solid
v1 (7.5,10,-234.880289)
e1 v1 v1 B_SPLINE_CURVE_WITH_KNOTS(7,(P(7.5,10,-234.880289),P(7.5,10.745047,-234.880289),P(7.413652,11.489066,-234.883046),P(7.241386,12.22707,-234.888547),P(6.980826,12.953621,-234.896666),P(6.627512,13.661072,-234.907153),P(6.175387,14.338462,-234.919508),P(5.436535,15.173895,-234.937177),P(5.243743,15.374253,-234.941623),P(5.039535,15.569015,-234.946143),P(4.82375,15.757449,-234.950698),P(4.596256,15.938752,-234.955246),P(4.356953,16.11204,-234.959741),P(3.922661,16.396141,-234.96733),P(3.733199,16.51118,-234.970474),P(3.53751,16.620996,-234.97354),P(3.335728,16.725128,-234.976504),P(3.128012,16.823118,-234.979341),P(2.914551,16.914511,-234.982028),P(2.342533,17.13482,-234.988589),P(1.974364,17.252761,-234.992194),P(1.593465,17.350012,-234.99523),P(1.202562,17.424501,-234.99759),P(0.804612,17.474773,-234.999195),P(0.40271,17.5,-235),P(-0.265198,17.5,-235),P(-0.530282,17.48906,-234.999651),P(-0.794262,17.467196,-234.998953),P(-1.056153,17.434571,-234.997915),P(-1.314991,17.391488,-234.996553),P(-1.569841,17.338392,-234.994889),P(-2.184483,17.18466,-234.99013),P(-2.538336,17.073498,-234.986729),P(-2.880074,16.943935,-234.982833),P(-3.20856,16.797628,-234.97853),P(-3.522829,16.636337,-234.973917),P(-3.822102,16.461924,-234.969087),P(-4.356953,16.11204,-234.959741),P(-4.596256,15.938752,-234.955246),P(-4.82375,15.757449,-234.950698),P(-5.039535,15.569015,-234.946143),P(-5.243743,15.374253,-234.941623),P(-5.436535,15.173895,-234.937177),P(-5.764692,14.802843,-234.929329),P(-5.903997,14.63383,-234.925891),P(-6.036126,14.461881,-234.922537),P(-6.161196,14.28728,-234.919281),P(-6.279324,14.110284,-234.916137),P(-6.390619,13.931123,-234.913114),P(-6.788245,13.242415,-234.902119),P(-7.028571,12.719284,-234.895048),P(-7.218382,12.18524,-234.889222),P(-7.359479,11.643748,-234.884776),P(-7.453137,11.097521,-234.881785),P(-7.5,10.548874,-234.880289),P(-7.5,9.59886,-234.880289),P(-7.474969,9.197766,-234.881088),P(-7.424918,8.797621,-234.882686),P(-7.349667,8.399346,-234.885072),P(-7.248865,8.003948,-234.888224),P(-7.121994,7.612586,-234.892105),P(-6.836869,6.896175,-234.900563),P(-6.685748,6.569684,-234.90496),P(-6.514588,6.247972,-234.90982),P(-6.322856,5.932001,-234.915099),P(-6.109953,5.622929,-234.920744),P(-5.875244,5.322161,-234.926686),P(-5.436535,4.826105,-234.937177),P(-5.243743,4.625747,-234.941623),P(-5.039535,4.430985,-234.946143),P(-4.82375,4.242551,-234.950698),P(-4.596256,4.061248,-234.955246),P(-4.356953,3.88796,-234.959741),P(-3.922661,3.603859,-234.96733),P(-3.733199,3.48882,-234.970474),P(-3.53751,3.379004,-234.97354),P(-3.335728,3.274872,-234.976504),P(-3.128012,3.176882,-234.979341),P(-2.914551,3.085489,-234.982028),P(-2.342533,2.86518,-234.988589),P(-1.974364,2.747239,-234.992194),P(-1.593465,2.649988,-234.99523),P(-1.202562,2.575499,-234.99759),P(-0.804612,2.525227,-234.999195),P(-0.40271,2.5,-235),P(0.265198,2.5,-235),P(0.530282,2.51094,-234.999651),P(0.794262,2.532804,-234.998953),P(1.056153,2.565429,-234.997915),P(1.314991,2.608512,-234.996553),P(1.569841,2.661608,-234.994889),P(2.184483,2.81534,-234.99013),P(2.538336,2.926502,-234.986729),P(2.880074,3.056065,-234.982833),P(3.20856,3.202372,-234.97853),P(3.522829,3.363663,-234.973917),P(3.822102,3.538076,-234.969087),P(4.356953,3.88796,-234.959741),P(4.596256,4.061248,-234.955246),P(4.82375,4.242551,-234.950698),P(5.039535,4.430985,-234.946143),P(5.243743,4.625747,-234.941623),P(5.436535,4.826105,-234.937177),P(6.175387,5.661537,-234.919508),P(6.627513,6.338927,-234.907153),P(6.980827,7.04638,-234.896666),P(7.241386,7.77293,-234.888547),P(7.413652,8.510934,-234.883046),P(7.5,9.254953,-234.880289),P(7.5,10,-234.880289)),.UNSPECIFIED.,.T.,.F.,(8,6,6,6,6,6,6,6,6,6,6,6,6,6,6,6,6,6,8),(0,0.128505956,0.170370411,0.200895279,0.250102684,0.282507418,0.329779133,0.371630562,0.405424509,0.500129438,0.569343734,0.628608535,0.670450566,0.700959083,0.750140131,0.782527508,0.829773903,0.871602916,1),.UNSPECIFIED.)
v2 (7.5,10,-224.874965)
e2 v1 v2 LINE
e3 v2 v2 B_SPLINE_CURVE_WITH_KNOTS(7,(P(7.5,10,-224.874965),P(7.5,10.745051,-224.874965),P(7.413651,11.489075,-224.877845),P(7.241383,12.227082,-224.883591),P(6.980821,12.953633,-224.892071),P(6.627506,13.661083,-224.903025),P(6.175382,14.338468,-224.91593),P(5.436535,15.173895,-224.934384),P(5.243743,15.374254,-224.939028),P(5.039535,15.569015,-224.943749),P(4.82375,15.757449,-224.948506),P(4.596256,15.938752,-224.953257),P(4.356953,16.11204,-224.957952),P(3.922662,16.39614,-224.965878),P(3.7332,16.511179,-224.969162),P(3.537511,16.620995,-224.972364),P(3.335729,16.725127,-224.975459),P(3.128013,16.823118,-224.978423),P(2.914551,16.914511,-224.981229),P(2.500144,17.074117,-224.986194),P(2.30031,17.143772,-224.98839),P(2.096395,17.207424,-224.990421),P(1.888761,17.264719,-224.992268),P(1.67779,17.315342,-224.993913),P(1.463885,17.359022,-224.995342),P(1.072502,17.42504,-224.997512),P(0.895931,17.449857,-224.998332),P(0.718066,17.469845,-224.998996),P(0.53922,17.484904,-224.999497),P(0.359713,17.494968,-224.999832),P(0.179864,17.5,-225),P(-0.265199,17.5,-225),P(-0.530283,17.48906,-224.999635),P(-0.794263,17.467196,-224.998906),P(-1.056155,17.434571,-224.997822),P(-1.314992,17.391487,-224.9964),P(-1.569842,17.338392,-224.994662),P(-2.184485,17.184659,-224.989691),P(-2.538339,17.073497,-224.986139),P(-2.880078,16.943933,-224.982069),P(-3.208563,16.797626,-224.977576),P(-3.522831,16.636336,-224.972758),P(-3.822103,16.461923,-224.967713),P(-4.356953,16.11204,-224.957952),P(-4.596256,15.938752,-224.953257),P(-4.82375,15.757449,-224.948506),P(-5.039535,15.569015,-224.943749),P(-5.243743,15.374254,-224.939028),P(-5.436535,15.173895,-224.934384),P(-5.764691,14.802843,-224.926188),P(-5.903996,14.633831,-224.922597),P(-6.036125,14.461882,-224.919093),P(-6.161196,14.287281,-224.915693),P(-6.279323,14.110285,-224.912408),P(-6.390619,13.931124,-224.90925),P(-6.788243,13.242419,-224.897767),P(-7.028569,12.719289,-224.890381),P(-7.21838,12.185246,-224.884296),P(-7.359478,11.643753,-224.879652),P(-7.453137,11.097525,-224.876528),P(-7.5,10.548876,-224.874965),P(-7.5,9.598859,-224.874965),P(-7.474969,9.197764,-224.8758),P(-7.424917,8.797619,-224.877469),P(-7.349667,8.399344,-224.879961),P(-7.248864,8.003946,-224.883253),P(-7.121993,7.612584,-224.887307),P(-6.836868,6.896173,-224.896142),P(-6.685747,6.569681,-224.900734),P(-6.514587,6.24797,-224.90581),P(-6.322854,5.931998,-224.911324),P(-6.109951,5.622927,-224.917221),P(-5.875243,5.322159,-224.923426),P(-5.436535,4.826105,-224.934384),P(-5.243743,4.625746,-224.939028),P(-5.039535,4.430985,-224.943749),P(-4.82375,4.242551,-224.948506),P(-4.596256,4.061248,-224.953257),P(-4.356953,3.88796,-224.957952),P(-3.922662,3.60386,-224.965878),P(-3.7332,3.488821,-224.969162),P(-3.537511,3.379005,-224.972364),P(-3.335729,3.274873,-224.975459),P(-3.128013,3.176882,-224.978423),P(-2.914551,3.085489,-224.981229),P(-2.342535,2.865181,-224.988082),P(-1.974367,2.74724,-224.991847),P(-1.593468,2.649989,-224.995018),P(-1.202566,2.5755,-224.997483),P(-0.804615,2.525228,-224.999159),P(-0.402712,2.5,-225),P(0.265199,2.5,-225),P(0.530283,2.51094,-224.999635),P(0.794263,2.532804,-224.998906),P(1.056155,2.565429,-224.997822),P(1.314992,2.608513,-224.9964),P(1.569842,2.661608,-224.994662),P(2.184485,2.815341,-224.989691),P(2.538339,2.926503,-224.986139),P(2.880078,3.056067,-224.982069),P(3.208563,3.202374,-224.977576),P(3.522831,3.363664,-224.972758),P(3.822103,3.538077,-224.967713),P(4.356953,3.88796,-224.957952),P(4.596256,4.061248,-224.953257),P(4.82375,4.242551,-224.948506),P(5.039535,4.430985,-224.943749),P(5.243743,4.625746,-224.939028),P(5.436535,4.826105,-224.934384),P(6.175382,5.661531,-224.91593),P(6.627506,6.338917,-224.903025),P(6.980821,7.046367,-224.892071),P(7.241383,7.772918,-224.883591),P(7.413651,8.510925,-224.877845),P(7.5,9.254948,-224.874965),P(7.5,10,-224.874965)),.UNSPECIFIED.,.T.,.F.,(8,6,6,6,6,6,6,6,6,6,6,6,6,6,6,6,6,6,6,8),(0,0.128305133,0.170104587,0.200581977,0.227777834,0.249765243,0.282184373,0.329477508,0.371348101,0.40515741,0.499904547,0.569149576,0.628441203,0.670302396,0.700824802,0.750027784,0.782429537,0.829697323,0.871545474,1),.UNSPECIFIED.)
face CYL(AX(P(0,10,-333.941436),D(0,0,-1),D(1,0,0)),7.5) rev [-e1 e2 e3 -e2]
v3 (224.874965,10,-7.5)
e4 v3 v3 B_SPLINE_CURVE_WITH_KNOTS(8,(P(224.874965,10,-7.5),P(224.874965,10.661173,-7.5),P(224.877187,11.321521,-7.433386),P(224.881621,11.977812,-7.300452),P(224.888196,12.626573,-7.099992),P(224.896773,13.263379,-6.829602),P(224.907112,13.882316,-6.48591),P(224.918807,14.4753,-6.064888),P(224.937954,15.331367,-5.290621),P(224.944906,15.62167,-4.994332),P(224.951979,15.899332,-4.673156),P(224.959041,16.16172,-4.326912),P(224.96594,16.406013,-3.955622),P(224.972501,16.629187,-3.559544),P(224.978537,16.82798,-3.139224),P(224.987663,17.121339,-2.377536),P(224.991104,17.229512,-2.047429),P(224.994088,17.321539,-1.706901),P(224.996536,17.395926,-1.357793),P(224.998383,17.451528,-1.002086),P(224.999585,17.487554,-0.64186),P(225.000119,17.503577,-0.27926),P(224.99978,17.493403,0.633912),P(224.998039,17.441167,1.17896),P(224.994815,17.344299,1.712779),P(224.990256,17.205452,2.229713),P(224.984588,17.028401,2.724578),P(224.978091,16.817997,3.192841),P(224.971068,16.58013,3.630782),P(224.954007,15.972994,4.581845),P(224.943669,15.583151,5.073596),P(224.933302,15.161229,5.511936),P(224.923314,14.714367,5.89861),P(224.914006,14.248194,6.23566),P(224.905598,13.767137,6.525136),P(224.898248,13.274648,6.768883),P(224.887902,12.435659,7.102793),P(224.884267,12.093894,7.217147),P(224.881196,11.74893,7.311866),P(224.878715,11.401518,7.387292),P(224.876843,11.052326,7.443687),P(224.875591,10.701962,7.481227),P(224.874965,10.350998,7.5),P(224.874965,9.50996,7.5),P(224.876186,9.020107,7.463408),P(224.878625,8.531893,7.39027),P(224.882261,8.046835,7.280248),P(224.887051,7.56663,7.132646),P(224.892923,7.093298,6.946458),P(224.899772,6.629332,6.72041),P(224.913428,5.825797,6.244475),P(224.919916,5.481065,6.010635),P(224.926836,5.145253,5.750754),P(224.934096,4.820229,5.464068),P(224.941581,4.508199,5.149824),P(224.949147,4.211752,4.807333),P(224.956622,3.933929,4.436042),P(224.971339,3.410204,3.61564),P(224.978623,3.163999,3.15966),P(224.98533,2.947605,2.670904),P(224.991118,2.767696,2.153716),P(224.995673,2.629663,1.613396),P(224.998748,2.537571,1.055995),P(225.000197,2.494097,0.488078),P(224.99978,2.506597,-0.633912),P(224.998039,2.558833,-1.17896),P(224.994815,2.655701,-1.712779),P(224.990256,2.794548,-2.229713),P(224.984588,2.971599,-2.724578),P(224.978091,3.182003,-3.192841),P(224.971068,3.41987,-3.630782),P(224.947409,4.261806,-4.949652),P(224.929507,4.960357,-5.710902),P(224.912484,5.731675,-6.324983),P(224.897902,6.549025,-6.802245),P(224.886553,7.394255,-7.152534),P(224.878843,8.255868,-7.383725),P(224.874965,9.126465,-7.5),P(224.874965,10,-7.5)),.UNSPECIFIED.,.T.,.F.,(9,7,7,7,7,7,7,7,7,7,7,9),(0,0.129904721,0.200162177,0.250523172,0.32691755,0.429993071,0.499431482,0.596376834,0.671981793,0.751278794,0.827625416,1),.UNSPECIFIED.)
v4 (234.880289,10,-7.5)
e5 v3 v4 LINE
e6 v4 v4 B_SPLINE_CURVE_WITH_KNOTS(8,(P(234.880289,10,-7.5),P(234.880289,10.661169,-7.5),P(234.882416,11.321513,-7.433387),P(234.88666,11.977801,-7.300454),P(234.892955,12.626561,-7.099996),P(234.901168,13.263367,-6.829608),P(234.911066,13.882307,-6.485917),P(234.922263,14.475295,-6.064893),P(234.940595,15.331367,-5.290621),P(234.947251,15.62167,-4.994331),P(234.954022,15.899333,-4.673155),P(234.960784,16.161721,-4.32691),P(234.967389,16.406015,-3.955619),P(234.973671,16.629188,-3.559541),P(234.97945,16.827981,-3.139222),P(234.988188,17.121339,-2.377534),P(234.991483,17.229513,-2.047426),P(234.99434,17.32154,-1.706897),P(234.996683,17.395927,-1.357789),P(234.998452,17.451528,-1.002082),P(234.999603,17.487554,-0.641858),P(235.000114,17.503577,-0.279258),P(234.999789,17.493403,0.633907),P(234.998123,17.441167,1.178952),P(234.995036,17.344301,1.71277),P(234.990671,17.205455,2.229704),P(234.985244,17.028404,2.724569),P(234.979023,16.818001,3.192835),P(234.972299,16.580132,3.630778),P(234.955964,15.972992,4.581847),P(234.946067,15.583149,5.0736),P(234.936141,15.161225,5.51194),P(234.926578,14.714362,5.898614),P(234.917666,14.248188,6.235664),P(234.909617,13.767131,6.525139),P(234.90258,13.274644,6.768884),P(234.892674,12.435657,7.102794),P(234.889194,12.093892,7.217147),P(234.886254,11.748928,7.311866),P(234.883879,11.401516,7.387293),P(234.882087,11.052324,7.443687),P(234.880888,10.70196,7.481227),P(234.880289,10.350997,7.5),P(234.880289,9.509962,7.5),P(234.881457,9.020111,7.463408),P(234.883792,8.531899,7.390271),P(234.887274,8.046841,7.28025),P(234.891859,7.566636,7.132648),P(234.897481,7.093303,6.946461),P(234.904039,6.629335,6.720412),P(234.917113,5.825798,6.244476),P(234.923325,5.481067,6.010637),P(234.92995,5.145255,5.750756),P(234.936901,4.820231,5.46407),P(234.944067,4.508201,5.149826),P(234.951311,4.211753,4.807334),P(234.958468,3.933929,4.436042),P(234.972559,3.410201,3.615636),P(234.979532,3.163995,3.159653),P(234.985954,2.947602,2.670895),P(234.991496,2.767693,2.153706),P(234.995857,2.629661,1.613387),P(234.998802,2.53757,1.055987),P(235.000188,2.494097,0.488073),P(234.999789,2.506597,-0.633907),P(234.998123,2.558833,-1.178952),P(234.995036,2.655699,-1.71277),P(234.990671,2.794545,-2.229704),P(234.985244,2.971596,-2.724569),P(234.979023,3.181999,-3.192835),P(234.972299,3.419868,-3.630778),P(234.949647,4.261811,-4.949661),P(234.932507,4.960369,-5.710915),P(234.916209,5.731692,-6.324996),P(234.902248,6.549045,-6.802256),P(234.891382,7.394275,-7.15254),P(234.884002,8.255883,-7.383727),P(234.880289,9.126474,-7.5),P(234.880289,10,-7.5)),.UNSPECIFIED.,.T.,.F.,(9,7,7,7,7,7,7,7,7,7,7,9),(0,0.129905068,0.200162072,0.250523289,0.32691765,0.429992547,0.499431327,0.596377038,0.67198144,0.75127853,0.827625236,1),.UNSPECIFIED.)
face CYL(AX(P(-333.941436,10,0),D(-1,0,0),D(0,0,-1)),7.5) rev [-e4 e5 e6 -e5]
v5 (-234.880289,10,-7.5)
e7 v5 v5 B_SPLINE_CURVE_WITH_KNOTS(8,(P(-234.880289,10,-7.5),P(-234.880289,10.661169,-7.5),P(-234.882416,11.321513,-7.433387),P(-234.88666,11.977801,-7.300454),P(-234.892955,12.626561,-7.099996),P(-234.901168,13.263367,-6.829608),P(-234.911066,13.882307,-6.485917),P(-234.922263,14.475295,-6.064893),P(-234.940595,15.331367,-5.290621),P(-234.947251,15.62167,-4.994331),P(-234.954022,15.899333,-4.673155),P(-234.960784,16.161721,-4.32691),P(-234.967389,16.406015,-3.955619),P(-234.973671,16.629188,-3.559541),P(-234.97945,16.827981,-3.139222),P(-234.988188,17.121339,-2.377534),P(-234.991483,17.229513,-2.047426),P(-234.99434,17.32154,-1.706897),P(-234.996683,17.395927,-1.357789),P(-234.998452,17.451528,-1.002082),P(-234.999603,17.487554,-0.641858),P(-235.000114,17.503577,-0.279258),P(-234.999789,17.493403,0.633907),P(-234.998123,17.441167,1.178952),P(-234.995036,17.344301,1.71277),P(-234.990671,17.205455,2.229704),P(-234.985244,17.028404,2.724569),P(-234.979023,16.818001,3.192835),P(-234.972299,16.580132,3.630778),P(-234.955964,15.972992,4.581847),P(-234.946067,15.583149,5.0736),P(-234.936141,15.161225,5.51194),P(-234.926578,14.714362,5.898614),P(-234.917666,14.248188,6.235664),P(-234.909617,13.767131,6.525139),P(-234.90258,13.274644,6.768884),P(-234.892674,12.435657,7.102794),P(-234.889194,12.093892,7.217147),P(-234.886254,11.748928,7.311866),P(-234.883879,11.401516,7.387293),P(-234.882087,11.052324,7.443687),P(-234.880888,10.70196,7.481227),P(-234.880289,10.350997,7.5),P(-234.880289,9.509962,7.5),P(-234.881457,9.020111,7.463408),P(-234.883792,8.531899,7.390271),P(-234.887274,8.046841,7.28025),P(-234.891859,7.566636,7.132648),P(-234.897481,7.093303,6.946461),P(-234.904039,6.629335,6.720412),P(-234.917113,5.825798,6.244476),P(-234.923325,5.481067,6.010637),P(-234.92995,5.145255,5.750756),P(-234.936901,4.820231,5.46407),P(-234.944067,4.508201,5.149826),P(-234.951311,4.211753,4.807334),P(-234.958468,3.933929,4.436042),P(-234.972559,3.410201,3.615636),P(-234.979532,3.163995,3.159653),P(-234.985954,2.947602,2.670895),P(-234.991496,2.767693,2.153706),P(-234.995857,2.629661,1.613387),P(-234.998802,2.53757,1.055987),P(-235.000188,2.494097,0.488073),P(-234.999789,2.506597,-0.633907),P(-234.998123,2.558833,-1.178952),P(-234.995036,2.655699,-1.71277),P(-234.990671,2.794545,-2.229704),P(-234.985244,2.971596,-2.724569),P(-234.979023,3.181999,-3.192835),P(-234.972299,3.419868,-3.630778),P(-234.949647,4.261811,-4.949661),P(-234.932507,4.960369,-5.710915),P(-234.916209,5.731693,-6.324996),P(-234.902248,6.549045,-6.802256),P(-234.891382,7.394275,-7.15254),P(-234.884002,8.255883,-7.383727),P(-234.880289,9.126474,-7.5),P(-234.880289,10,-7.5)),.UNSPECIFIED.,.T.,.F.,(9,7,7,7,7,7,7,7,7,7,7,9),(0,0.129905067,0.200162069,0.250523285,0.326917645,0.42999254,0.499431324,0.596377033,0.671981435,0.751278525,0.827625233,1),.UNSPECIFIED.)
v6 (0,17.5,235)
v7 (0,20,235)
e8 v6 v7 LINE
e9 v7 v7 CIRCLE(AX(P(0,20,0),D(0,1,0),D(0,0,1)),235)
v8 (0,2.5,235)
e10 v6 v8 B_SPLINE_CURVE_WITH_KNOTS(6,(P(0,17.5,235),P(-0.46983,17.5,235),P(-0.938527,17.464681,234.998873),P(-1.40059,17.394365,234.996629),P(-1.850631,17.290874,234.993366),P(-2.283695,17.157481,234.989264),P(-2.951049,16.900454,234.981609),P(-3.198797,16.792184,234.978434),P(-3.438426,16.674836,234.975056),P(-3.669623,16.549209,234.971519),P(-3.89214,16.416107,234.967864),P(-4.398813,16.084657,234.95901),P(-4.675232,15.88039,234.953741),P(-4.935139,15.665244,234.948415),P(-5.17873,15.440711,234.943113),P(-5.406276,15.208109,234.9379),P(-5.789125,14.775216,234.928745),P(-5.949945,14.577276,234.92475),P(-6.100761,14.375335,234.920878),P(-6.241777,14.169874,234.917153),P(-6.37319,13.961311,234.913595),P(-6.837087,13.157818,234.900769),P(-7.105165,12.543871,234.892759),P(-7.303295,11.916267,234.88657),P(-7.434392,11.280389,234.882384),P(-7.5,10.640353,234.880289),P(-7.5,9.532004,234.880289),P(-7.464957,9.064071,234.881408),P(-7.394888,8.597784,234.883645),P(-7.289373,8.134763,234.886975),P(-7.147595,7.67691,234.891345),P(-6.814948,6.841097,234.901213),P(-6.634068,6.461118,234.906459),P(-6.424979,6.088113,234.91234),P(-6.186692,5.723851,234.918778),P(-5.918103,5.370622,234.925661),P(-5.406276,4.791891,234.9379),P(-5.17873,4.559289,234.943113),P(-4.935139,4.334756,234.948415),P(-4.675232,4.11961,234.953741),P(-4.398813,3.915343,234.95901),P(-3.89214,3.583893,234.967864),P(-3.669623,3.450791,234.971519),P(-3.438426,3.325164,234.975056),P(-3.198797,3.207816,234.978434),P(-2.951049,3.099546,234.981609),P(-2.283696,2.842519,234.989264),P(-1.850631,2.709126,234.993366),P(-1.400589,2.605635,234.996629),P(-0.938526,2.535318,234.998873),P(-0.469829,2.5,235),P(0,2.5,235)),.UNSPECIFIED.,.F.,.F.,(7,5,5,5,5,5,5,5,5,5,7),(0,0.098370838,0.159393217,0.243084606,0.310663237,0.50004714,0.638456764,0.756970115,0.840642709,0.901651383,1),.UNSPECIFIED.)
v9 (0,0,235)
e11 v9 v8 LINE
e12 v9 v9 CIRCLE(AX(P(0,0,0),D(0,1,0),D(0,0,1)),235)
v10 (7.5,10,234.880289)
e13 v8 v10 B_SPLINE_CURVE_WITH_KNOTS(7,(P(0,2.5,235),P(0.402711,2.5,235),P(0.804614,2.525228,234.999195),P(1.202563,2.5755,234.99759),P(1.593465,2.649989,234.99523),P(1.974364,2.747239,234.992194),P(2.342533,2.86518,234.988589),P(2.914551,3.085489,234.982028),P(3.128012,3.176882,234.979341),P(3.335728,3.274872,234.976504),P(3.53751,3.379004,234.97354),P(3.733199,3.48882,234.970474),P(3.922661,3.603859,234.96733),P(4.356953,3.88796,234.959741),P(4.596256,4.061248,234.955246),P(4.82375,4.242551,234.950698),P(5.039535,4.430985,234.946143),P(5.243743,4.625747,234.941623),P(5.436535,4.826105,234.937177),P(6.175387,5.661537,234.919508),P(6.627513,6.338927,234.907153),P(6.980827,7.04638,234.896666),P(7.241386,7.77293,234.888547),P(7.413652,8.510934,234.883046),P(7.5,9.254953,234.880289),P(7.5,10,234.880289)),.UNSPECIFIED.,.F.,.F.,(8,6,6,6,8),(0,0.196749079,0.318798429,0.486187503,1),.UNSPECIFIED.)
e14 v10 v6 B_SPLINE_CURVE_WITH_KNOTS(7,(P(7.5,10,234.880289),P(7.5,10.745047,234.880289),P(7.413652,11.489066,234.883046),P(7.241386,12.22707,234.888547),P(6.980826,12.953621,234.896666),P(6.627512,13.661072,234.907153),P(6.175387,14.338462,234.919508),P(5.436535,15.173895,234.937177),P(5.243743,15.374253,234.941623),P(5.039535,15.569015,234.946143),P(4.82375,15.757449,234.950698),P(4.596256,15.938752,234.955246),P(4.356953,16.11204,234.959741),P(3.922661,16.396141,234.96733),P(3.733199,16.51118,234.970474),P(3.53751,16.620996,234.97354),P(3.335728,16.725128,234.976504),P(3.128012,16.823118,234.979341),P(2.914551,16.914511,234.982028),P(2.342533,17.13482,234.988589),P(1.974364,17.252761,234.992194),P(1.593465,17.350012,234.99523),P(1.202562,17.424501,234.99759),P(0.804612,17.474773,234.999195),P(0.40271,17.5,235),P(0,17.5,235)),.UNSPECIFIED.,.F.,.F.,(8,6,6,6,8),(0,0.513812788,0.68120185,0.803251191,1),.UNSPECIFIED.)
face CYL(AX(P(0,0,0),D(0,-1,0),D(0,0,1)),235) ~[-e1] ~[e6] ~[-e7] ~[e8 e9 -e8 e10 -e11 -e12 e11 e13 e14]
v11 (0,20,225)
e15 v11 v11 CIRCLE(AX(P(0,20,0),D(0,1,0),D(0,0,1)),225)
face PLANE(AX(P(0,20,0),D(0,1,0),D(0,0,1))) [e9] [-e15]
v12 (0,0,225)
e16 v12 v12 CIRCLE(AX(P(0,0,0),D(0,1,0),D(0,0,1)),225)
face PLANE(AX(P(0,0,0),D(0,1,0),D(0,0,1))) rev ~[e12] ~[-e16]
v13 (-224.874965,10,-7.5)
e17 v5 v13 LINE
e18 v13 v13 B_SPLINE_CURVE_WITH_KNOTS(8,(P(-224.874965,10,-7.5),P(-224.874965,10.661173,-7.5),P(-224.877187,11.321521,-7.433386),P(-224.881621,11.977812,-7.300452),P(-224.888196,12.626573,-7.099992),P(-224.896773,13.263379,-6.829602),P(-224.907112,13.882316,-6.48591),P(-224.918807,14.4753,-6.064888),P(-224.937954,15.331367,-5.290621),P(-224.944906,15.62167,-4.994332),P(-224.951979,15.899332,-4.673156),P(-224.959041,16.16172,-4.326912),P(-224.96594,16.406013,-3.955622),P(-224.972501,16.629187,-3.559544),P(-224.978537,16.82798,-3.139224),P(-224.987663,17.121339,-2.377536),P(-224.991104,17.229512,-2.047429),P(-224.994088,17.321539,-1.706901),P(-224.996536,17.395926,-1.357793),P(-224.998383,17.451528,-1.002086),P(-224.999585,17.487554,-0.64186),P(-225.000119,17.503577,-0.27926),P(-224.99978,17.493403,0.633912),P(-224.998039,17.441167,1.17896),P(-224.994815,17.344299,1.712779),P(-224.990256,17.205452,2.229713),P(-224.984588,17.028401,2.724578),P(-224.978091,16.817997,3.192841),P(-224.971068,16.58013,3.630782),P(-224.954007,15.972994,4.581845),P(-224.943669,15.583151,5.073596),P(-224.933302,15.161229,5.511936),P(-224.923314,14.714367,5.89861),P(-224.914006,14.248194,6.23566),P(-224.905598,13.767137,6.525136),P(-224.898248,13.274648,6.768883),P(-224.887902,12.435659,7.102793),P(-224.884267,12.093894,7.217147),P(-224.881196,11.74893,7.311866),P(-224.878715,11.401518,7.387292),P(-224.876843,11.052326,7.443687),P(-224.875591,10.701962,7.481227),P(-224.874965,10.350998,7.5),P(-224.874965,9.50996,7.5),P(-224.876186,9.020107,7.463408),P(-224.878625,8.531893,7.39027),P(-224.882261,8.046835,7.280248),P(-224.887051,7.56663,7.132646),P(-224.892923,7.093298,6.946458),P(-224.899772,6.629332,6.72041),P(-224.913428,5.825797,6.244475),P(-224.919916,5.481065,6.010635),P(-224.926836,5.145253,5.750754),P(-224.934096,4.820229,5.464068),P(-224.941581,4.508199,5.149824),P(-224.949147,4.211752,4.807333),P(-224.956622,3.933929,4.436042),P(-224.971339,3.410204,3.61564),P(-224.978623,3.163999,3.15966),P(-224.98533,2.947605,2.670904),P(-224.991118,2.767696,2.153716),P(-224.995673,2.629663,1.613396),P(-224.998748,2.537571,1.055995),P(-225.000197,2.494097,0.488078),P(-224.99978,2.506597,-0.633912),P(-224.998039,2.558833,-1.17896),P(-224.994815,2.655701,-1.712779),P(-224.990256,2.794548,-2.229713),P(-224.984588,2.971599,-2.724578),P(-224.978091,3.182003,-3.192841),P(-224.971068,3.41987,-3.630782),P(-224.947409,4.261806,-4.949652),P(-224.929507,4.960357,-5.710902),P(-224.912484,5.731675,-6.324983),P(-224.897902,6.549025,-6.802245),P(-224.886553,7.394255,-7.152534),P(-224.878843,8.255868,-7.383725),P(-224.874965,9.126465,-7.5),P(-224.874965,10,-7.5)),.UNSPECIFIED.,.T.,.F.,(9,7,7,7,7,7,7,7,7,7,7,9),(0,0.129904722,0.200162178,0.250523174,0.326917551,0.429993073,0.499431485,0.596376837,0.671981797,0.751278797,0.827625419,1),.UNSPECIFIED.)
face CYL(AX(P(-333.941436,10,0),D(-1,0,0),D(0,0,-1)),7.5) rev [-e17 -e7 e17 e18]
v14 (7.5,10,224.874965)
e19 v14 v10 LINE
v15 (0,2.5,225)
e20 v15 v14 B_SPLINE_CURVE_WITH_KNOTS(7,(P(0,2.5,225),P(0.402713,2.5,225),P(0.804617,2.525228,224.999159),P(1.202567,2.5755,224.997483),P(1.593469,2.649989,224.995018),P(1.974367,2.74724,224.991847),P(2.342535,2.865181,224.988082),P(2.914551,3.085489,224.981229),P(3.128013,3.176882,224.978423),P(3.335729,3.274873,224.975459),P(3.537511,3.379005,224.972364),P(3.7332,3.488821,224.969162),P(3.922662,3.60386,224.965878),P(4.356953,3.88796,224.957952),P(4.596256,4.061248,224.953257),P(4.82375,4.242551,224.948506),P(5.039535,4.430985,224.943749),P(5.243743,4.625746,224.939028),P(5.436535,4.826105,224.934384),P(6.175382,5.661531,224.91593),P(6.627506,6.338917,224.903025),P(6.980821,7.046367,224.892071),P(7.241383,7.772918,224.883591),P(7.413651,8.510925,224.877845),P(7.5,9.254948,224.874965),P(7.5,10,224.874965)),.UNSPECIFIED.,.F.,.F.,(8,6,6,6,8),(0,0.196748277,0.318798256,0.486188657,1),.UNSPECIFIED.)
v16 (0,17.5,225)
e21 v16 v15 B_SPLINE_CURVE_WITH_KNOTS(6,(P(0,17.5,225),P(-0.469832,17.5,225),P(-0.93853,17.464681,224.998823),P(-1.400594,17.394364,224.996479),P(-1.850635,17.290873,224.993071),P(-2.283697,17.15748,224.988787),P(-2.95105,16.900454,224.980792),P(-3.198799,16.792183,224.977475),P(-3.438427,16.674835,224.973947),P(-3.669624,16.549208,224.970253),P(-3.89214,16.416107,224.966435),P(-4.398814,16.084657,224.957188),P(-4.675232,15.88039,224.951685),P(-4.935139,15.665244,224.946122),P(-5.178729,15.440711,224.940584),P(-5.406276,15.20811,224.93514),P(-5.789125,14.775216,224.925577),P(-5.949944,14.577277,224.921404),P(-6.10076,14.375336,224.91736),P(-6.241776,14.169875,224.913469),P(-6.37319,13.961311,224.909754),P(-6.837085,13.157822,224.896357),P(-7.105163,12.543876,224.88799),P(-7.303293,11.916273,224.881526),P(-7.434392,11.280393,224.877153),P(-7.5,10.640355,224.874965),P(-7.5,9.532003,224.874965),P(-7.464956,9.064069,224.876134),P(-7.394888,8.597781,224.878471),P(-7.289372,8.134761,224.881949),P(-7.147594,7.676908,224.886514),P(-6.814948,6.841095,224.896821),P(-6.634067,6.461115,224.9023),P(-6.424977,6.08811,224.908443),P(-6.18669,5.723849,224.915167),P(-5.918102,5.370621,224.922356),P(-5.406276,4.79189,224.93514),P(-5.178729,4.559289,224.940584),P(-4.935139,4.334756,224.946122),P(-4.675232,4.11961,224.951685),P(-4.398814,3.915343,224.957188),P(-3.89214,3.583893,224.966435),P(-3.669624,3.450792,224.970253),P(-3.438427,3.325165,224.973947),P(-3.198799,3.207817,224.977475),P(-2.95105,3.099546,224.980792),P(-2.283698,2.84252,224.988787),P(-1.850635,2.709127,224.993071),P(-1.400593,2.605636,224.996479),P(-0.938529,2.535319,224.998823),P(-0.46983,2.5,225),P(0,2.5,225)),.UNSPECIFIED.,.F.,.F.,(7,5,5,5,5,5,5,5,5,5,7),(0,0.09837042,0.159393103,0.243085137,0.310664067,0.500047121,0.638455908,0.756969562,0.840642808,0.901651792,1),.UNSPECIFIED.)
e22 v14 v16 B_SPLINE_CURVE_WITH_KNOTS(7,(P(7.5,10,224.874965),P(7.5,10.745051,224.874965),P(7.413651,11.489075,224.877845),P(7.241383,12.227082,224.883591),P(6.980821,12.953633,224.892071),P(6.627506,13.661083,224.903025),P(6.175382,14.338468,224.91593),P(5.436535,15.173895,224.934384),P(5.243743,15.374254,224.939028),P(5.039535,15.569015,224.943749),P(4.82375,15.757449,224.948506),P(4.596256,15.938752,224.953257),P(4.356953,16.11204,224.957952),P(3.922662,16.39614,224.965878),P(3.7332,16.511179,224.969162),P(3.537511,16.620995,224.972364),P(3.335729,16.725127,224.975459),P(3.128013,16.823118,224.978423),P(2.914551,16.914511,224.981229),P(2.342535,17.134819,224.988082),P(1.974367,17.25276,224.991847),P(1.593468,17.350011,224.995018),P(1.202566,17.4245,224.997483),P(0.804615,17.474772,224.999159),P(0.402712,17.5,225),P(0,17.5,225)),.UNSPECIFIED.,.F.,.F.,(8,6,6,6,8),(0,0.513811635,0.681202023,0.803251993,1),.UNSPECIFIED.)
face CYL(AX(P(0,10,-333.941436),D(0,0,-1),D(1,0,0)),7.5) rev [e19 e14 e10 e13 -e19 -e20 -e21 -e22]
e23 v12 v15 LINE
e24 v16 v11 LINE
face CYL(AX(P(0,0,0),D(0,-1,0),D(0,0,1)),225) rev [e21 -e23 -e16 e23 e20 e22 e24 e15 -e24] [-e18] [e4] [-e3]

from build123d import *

# Parameters (mm, degrees)
SKETCH1_R               = 235
SKETCH1_R_2             = 225
BOSS_EXTRUDE1_DEPTH     = 20
CUT_EXTRUDE1_DEPTH      = 333.941436292
CUT_EXTRUDE1_DEPTH_BACK = 333.941436292
SKETCH2_R               = 7.5
CUT_EXTRUDE2_DEPTH      = 333.941436439
CUT_EXTRUDE2_DEPTH_BACK = 333.941436439
SKETCH3_R               = 7.5


with BuildPart() as part:
    # Sketch1 → Boss-Extrude1 (new body)
    with BuildSketch(Plane(origin=(0, 0, 0), x_dir=(1, 0, 0), z_dir=(0, 1, 0))):
        with Locations(Location((0, 0, 0), (0, 0, 270))):
            Circle(SKETCH1_R)
        with Locations(Location((0, 0, 0), (0, 0, 270))):
            Circle(SKETCH1_R_2, mode=Mode.SUBTRACT)
    extrude(amount=BOSS_EXTRUDE1_DEPTH)

    # Sketch2 → Cut-Extrude1 (cut, two sides: drawn at the far end of the back side and taken through both)
    with BuildSketch(Plane.XY.offset(-CUT_EXTRUDE1_DEPTH_BACK)):
        with Locations((0, 10)):
            Circle(SKETCH2_R)
    extrude(amount=CUT_EXTRUDE1_DEPTH + CUT_EXTRUDE1_DEPTH_BACK, mode=Mode.SUBTRACT)

    # Sketch3 → Cut-Extrude2 (cut, two sides: drawn at the far end of the back side and taken through both)
    with BuildSketch(Plane(origin=(0, 0, 0), x_dir=(0, 0, -1), z_dir=(1, 0, 0)).offset(-CUT_EXTRUDE2_DEPTH_BACK)):
        with Locations((0, 10)):
            Circle(SKETCH3_R)
    extrude(amount=CUT_EXTRUDE2_DEPTH + CUT_EXTRUDE2_DEPTH_BACK, mode=Mode.SUBTRACT)


solid = part.part
